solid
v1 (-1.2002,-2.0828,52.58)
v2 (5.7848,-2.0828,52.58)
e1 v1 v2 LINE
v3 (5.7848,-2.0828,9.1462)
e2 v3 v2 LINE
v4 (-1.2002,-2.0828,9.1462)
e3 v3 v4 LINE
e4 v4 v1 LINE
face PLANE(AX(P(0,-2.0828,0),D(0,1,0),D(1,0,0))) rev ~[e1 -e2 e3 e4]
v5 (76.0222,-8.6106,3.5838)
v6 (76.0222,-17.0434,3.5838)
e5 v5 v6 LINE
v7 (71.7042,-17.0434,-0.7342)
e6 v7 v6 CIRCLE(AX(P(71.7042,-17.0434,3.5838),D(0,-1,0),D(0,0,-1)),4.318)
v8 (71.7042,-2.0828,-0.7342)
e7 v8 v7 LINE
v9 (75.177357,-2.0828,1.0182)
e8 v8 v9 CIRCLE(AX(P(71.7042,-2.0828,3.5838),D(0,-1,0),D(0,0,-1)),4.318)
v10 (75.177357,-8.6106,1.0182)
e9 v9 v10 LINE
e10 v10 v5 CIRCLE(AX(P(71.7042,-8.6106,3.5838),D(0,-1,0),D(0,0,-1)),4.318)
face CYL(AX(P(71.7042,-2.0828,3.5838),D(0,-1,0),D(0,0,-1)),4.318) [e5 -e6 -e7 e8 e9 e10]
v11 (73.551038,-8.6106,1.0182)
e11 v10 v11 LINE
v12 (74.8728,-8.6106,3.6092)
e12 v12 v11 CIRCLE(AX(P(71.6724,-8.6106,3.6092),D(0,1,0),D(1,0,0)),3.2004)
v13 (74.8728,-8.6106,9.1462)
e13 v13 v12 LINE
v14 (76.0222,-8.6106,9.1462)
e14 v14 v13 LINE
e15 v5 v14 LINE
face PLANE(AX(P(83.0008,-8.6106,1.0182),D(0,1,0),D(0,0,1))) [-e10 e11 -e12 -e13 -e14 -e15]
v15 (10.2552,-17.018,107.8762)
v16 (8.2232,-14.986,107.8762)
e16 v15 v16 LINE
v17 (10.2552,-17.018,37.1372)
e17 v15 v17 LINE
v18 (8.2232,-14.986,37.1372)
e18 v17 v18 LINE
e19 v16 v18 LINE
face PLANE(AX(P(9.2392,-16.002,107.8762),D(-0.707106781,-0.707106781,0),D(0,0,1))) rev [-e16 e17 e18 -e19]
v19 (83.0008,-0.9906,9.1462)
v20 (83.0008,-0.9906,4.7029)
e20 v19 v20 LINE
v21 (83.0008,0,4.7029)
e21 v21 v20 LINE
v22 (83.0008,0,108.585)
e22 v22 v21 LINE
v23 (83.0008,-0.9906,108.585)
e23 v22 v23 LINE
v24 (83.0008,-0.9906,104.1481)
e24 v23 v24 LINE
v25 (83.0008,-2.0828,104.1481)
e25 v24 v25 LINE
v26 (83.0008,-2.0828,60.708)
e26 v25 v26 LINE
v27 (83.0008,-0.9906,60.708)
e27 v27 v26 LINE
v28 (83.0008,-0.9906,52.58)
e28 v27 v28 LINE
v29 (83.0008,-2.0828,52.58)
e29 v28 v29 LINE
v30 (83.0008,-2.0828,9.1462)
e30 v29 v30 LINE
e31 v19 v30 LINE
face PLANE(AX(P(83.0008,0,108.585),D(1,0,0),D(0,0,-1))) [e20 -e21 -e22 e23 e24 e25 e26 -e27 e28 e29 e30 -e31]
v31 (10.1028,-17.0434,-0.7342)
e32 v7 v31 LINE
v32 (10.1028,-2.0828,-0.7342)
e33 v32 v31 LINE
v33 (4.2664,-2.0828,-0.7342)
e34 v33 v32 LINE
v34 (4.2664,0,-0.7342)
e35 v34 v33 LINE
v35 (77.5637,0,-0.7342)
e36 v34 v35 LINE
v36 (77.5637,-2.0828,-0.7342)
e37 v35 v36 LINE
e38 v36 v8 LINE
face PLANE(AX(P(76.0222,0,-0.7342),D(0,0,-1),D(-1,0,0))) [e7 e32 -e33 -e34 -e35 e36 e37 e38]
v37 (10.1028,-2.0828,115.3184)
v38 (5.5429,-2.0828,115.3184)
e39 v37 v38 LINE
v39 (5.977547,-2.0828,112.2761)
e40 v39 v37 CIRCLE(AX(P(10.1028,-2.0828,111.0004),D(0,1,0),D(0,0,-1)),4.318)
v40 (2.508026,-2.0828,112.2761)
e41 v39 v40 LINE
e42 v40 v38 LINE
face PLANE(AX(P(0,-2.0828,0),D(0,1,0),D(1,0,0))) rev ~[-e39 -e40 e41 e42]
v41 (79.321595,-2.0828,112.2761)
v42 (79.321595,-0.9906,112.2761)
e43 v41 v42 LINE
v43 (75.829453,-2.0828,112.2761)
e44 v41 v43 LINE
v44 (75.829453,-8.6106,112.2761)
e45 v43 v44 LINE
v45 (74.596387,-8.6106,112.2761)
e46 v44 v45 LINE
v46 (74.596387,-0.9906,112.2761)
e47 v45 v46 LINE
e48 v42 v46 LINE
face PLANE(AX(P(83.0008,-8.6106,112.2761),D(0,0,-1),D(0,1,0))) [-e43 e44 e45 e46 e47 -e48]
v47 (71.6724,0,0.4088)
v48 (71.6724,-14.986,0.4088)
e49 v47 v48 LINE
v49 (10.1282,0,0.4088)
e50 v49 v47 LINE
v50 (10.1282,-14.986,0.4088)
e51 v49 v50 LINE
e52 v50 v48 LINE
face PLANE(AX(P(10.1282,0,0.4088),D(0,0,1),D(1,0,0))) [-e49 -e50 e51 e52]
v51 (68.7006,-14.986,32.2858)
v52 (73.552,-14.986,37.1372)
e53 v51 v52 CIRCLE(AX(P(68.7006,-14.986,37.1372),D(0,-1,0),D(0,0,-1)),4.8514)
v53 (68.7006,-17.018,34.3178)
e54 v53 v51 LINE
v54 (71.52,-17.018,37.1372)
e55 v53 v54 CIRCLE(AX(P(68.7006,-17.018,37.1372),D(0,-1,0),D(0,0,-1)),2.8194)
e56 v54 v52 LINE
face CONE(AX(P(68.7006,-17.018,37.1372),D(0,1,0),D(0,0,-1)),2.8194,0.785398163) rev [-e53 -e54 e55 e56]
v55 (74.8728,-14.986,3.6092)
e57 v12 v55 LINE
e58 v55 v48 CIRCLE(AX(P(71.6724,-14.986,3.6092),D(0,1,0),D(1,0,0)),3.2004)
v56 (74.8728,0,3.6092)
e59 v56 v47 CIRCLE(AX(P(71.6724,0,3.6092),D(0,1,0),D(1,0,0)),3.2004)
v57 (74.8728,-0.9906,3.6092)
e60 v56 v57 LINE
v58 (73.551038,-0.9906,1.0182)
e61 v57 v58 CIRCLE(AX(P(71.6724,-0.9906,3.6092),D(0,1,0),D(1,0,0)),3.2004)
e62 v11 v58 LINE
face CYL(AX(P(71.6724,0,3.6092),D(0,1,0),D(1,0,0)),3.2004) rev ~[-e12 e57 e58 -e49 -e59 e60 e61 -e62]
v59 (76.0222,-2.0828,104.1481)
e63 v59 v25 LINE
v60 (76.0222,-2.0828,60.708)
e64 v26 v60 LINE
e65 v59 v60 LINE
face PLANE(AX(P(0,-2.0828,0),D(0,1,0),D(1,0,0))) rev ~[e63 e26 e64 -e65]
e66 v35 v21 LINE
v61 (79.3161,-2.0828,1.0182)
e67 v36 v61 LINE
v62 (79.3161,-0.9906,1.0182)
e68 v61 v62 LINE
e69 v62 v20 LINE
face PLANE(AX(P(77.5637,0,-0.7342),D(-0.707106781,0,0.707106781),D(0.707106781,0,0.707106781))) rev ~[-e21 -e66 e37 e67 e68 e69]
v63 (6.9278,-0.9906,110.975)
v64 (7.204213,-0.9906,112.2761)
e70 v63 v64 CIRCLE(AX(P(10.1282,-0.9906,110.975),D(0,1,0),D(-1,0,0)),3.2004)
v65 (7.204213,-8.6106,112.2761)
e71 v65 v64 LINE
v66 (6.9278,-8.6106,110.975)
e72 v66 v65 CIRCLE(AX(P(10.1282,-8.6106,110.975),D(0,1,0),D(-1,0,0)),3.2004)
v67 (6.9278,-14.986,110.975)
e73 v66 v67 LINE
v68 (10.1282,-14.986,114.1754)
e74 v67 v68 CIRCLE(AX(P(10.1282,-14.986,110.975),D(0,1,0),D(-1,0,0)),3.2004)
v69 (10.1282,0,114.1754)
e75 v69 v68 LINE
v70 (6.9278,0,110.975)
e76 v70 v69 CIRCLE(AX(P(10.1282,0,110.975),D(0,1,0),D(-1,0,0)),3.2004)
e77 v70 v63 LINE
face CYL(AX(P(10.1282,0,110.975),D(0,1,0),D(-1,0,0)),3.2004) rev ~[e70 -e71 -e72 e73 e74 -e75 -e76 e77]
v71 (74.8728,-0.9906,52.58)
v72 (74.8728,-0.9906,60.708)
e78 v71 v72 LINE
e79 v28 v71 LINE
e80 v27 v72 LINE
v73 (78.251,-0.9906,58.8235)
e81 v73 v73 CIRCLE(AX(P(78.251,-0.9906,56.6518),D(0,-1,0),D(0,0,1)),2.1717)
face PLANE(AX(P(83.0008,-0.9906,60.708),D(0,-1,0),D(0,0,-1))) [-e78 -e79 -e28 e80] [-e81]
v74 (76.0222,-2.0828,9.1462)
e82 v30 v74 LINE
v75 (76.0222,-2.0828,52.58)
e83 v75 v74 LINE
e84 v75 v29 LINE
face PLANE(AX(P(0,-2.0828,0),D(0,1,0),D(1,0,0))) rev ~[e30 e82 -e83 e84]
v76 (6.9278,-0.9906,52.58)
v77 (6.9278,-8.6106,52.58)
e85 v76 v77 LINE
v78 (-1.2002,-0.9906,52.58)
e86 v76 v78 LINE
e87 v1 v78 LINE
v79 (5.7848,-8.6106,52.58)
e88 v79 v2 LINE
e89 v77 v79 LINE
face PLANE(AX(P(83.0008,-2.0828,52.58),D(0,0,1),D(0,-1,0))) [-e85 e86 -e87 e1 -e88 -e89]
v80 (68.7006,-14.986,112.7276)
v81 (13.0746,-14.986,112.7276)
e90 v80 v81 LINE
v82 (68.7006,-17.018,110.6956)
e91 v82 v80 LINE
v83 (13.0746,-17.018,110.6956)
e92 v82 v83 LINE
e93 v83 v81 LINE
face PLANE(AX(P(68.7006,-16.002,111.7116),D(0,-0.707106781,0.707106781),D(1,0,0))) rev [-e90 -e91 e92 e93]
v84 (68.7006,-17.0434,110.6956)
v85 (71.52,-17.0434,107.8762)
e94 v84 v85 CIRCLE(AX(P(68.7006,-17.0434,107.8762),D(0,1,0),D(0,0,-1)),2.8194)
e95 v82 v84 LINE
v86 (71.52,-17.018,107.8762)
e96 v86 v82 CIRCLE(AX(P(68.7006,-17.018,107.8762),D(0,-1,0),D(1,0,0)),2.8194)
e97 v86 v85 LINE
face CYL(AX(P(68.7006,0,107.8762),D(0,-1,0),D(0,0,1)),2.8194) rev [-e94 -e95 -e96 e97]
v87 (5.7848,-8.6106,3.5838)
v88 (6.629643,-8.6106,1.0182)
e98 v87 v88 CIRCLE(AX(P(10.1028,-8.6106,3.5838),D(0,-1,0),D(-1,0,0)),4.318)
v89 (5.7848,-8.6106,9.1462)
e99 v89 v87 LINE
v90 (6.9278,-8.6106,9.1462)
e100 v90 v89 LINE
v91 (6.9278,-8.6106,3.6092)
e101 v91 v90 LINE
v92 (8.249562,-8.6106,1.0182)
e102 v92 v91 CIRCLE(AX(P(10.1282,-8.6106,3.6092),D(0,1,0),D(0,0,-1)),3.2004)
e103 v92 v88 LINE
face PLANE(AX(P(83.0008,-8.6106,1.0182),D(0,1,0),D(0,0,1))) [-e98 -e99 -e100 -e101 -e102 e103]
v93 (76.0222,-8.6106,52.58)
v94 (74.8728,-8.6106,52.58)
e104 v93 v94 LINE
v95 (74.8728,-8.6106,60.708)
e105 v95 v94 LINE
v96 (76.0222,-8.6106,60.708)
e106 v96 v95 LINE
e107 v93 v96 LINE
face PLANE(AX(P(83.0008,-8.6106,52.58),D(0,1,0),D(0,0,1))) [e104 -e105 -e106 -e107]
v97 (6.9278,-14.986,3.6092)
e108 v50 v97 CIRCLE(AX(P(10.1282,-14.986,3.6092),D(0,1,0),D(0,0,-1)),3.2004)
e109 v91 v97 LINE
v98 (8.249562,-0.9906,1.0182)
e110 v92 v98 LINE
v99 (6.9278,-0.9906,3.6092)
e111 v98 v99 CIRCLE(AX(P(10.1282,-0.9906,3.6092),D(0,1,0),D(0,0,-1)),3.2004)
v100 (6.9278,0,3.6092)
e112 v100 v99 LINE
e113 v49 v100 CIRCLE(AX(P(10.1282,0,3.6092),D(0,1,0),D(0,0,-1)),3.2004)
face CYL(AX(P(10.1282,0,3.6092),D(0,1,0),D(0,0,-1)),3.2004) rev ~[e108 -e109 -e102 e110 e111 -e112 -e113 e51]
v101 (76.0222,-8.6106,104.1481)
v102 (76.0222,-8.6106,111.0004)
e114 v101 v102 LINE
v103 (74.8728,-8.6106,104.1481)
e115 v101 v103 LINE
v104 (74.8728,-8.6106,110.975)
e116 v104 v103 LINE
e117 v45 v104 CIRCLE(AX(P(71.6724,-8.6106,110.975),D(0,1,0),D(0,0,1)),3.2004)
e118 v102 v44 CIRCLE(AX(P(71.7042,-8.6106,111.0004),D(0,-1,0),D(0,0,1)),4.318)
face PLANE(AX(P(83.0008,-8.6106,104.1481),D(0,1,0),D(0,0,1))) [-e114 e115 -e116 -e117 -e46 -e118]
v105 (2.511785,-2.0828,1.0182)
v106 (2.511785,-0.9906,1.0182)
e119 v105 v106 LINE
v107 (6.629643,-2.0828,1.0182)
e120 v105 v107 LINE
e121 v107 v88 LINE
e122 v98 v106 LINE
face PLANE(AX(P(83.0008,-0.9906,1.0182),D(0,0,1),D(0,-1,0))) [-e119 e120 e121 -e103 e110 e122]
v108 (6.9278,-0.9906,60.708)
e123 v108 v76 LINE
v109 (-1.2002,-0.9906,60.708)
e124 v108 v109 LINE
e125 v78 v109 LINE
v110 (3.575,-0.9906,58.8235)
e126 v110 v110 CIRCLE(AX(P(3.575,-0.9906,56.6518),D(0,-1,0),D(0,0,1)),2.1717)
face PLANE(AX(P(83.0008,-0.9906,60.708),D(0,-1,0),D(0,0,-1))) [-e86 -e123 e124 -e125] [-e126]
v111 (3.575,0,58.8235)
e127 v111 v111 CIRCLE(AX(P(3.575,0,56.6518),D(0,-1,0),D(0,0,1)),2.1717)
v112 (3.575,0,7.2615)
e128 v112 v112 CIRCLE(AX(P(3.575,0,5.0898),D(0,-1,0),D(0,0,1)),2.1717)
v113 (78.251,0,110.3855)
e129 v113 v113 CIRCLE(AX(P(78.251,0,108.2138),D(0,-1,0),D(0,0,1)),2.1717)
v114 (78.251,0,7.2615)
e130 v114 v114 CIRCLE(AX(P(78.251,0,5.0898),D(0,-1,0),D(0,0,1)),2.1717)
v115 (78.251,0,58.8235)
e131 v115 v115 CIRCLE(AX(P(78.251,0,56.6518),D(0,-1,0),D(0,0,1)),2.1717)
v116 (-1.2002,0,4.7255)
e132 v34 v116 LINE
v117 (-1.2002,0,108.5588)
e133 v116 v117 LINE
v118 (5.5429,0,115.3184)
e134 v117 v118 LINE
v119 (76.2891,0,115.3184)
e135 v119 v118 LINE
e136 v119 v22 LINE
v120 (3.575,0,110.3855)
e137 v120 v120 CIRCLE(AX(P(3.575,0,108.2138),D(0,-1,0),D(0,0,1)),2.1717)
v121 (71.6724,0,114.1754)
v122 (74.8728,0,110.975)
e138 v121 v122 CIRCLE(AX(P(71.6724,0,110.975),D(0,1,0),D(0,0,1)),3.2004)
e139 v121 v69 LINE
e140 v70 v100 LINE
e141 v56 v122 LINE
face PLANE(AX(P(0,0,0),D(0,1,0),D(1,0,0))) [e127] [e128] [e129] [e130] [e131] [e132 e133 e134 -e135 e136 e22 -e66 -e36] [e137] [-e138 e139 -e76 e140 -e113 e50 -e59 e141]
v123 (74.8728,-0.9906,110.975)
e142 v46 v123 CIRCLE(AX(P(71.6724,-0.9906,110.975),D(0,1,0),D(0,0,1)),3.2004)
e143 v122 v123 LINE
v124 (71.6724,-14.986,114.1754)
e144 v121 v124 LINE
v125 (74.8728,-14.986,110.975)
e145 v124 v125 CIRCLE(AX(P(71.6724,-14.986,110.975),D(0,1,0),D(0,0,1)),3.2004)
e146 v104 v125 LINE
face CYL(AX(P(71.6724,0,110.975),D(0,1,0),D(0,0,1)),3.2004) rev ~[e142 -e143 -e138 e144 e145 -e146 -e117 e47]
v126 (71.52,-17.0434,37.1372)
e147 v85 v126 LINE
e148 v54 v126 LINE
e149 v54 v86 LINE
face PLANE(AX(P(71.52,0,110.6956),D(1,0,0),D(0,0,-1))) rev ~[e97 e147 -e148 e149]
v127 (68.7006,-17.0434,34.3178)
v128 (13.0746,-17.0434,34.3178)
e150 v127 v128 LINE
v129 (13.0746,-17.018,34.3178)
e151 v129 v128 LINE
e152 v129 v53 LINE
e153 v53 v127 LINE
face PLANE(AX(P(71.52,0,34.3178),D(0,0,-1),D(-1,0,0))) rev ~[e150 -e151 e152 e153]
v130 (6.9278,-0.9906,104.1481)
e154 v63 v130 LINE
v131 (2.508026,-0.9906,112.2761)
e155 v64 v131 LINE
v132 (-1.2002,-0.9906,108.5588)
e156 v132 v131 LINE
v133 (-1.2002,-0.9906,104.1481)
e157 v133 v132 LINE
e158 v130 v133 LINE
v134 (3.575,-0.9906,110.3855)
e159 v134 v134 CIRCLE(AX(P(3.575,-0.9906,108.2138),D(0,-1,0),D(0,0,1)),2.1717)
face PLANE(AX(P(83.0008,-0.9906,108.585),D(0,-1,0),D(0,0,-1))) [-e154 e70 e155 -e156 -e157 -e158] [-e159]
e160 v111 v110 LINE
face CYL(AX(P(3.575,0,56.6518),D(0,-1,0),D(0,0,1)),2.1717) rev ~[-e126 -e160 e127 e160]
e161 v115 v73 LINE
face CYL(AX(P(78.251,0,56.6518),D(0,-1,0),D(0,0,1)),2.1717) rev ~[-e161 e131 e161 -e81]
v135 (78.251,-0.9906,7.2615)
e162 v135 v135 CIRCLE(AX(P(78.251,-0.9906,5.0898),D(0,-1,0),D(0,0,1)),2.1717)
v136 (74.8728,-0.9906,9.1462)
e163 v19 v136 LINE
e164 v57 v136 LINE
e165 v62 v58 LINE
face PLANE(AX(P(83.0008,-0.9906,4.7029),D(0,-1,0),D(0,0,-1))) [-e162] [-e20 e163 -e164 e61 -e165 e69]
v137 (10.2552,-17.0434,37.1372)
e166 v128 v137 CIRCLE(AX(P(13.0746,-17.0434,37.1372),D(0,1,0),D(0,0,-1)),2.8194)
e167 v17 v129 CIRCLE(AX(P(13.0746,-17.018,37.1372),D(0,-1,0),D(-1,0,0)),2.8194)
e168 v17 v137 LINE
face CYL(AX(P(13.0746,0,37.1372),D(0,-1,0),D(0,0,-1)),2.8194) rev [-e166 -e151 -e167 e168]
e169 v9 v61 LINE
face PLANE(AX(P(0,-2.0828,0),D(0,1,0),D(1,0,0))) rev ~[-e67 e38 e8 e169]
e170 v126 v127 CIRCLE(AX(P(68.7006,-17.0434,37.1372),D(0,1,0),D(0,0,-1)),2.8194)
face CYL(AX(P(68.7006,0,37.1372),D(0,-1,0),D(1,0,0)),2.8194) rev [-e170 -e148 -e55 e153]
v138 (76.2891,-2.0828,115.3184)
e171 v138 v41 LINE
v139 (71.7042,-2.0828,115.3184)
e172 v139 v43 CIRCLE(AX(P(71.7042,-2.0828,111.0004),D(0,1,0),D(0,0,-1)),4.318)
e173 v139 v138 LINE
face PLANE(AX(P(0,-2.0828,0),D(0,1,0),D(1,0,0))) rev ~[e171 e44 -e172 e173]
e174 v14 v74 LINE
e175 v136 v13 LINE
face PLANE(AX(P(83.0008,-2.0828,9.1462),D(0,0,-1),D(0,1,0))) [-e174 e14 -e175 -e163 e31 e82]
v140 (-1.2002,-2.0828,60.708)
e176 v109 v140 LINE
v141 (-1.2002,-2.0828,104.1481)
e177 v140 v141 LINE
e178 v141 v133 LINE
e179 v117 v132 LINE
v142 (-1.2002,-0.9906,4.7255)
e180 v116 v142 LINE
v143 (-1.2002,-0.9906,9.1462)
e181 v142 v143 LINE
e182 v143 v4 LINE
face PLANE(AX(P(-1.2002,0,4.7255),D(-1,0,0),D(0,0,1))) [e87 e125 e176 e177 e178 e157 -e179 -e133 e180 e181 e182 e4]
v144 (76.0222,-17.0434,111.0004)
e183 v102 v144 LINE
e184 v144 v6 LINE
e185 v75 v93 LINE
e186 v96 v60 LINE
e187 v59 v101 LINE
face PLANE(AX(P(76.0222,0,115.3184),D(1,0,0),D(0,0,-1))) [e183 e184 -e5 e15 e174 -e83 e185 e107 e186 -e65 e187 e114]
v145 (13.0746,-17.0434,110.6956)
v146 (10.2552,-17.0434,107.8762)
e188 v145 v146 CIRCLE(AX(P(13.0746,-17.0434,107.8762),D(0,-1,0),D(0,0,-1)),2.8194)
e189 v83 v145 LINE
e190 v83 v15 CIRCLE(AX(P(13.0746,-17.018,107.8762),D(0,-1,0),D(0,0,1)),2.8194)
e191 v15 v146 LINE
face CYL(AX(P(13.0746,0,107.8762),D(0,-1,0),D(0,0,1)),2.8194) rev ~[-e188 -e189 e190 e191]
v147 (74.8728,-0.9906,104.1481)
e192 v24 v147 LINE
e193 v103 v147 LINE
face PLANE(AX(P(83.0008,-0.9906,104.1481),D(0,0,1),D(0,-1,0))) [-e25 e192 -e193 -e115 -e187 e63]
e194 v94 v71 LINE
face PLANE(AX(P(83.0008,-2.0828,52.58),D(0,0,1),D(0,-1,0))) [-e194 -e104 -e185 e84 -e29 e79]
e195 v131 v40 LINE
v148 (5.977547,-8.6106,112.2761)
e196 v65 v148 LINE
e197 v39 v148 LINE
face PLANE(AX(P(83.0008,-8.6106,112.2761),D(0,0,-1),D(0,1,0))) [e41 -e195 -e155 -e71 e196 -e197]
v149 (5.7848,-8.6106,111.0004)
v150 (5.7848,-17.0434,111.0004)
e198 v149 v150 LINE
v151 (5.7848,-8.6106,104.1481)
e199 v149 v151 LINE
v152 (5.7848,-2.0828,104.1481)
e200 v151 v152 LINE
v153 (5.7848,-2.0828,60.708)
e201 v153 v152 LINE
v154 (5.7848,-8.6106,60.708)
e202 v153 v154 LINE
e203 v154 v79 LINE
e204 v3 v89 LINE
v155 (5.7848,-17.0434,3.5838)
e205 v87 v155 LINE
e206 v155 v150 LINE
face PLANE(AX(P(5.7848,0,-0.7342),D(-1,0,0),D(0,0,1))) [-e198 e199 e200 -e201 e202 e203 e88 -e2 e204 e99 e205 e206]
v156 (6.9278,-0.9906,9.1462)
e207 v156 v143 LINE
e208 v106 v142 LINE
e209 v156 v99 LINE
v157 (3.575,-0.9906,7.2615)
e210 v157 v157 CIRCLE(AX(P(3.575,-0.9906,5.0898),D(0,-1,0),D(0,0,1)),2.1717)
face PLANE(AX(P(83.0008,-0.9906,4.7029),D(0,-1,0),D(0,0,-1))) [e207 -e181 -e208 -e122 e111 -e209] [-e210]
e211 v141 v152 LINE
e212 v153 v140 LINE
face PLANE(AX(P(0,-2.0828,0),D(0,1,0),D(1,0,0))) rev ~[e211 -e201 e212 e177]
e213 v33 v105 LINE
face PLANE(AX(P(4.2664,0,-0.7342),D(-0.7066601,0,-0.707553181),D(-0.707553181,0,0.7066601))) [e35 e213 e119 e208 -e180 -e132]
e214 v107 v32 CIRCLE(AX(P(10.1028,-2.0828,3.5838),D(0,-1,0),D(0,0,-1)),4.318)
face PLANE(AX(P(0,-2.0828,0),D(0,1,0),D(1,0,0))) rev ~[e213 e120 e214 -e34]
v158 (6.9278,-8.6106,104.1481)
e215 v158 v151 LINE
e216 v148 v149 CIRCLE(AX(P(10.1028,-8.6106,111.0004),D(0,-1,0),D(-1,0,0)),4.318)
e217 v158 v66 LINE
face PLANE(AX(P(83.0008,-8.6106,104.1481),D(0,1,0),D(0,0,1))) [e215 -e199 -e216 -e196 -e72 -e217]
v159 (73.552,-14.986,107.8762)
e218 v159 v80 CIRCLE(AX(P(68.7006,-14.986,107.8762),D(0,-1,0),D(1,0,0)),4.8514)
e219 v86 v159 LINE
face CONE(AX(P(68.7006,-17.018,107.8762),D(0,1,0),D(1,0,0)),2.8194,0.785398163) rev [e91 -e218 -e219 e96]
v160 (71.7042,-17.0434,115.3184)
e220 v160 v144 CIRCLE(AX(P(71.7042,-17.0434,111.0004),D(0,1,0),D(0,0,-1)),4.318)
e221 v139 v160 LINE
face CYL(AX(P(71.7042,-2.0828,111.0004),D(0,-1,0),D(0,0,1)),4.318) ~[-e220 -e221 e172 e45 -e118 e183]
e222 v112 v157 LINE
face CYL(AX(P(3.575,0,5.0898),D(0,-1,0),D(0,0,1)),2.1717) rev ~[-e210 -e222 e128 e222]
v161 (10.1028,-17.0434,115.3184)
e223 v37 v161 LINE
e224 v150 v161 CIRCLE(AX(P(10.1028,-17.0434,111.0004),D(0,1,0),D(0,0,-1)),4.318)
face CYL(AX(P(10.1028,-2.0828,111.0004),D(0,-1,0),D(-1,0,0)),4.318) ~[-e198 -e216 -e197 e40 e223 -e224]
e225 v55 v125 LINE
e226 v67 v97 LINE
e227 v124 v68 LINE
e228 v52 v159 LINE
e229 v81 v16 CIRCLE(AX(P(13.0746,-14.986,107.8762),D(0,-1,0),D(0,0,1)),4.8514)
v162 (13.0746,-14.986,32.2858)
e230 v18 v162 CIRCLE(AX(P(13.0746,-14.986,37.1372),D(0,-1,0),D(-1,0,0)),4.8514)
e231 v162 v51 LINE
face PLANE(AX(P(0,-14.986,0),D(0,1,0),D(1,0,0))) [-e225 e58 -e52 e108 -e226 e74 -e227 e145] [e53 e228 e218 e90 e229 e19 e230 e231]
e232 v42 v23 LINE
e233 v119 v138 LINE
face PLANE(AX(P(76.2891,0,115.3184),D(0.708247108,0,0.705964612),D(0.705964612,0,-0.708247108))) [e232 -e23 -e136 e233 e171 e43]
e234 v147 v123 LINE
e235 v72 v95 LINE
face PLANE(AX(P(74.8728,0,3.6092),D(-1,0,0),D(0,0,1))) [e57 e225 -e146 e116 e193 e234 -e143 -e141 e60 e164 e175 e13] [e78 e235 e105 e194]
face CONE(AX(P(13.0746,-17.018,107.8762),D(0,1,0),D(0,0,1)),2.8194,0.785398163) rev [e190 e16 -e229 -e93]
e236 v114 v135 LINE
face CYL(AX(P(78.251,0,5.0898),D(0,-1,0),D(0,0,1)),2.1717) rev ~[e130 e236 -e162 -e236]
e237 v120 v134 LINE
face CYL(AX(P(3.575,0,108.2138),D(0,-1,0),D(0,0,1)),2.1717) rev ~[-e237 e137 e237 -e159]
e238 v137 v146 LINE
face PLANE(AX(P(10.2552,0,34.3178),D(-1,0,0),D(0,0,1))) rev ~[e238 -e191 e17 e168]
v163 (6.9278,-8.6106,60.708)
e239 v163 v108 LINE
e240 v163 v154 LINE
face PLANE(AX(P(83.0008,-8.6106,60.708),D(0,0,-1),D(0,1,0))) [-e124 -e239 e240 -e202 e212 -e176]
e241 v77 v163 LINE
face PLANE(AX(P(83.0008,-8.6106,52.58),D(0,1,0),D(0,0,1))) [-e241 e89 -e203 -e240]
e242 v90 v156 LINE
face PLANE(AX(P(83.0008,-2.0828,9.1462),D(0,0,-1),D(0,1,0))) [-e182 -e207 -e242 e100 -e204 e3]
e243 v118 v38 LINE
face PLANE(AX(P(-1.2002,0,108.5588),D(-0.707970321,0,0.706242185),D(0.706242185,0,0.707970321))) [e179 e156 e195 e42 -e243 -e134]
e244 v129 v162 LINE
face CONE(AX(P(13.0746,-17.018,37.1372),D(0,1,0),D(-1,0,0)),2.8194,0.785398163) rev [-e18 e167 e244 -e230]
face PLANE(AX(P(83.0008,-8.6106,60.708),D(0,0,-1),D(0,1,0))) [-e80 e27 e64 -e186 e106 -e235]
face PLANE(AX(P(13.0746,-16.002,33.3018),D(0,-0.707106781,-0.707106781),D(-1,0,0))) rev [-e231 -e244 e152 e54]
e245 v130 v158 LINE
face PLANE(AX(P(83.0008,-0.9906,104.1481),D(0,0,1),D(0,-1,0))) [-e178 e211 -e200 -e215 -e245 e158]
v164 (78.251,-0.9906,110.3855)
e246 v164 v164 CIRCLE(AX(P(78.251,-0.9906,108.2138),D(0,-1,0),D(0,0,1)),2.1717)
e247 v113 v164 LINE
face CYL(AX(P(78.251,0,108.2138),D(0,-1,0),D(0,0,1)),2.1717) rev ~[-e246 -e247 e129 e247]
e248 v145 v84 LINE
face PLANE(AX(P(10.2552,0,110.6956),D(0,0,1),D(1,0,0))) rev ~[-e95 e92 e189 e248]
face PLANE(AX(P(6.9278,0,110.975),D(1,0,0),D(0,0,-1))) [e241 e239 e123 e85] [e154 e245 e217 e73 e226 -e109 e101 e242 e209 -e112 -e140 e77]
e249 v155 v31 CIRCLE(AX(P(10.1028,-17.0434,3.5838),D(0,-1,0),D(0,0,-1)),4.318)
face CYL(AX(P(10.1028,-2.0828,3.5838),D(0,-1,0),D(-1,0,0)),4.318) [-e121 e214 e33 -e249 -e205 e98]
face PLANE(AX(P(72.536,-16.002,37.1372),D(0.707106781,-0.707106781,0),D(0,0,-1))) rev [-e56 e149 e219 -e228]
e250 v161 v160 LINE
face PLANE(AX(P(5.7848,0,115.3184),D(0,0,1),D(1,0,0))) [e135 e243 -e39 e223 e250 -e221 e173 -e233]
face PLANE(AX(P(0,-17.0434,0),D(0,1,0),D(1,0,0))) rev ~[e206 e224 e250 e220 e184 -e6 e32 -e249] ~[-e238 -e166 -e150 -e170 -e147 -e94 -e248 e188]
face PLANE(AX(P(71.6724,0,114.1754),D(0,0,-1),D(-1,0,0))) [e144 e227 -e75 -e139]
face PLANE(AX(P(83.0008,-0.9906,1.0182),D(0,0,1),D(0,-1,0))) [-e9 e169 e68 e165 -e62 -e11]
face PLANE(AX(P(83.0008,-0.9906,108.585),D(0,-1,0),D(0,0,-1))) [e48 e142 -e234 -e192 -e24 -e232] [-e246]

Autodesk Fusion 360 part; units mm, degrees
sketch "Front" plane through (0, 0, 0) normal (0, 1, 0) x (1, 0, 0) in component "2004699A"
  line L0 (-34.4613, 0.7342) -> (100.7673, 0.7342) construction
  line L1 (-34.854, -115.3184) -> (120.0108, -115.3184) construction
  line L2 (39.1093, -14.9122) -> (120.6654, -14.9122) construction
  line L3 (3.575, 24.5274) -> (3.575, -141.9882) construction
  line L4 (78.251, 23.8729) -> (78.251, -119.9956) construction
  line L5 (-16.7886, -108.2138) -> (88.0691, -108.2138) construction
  line L6 (-18.2286, -5.0898) -> (85.3201, -5.0898) construction
  line L7 (-8.6723, -56.6518) -> (96.0546, -56.6518) construction
  line L8 (-24.3813, -113.9722) -> (90.4255, -113.9722) construction
  line L9 (-27.0881, -0.4088) -> (83.5136, -0.4088) construction
  line L10 (10.2552, -130.527) -> (10.2552, 10.1996) construction
  line L11 (71.52, -130.1852) -> (71.52, 12.6775) construction
  line L12 (5.7848, -130.0998) -> (5.7848, 6.3546) construction
  line L13 (83.0008, -137.1267) -> (83.0008, 10.6162) construction
  line L14 (-1.2002, -137.339) -> (-1.2002, 17.644) construction
  line L15 (110.5413, -110.6956) -> (5.7848, -110.6956) construction
  line L16 (110.1974, -34.3178) -> (-2.9547, -34.3178) construction
  line L17 (102.8889, -60.7158) -> (-8.8875, -60.7158) construction
  line L18 (102.459, -52.5878) -> (-11.4669, -52.5878) construction
  line L19 (40.913, -17.1802) -> (40.913, 17.1835) construction
  line L20 (69.6478, 8.6501) -> (89.4046, -11.1067) construction
  line L21 (-5.4342, -8.9542) -> (10.2552, 6.7154) construction
  line L22 (-6.1303, -103.6453) -> (12.6902, -122.4658) construction
  line L23 (73.7302, -117.8806) -> (90.3753, -101.2137) construction
  line L24 (-2.868, -104.1498) -> (87.443, -104.1498) construction
  line L25 (-3.4391, -112.2778) -> (87.0011, -112.2778) construction
  line L26 (-3.1536, -9.1538) -> (86.0732, -9.1538) construction
  line L27 (-3.3677, -1.0258) -> (85.288, -1.0258) construction
  line L28 (10.2552, -110.6956) -> (71.52, -110.6956)
  line L29 (71.52, -110.6956) -> (71.52, -34.3178)
  line L30 (71.52, -34.3178) -> (10.2552, -34.3178)
  line L31 (10.2552, -34.3178) -> (10.2552, -110.6956)
  line L32 (-1.2002, -115.3184) -> (83.0008, -115.3184)
  line L33 (83.0008, -115.3184) -> (83.0008, 0.7342)
  line L34 (83.0008, 0.7342) -> (-1.2002, 0.7342)
  line L35 (-1.2002, 0.7342) -> (-1.2002, -115.3184)
  line L36 (76.0158, -119.9569) -> (76.0158, 9.6762) construction
  line L37 (5.7848, -115.3184) -> (76.0222, -115.3184) construction
  line L38 (76.0222, -115.3184) -> (76.0222, 0.7342) construction
  line L39 (76.0222, 0.7342) -> (5.7848, 0.7342) construction
  line L40 (5.7848, 0.7342) -> (5.7848, -115.3184) construction
  line L41 (76.0222, 0.7342) -> (5.7848, 0.7342)
  line L42 (5.7848, 0.7342) -> (5.7848, -115.3184)
  line L43 (5.7848, -115.3184) -> (76.0222, -115.3184)
  line L44 (76.0222, -115.3184) -> (76.0222, 0.7342)
  line L45 (-1.2002, -108.5588) -> (5.5429, -115.3184)
  line L46 (76.2891, -115.3184) -> (83.0008, -108.585)
  line L47 (77.5637, 0.7342) -> (83.0008, -4.7029)
  line L48 (4.2664, 0.7342) -> (-1.2002, -4.7255)
  point P0 (3.575, -108.2138)
  point P1 (78.251, -108.2138)
  point P2 (78.251, -56.6518)
  point P3 (78.251, -5.0898)
  point P4 (3.575, -5.0898)
  point P5 (3.575, -56.6518)
  dimension "d1" = 1.143
  dimension "d2" = 116.0526
  dimension "d3" = 113.5634
  dimension "d4" = 103.124
  dimension "d5" = 51.562
  dimension "d6" = 74.676
  dimension "d7" = 2.2098
  dimension "d8" = 4.4704
  dimension "d9" = 61.2648
  dimension "d10" = 84.201
  dimension "d11" = 6.985
  dimension "d12" = 76.3778
  dimension "d13" = 4.6228
  dimension "d14" = 100.4062
  dimension "d15" = 37.338
  dimension "d16" = 8.128
  dimension "d17" = 4.064
  dimension "d18" = 3.6322
  dimension "d19" = 3.6322
  dimension "d20" = 3.6322
  dimension "d21" = 3.6322
  dimension "d22" = 4.064
  dimension "d23" = 8.128
  dimension "d25" = 4.064
  dimension "d26" = 8.128
  dimension "d27" = 70.231
extrude "Extrude1" add sketch "Front" against normal blind 17.0434 contours L32 L34 L41 L42 L43 L44 in component "2004699A"
extrude "Extrude2" add sketch "Front" against normal blind 2.0828 contours L32 L34 L35 L42 L45 L48 | L32 L33 L34 L44 L46 L47 in component "2004699A"
fillet "Fillet1" radius 4.318 4 edges at (5.7848, -9.5631, -0.7342) (76.0222, -9.5631, -0.7342) (76.0222, -9.5631, 115.3184) (5.7848, -9.5631, 115.3184) in component "2004699A"
fillet "Fillet2" radius 2.8194 4 edges at (71.52, -8.5217, 110.6956) (10.2552, -8.5217, 110.6956) (71.52, -8.5217, 34.3178) (10.2552, -8.5217, 34.3178) in component "2004699A"
hole "Hole1" at (78.251, 0, 108.2138) at (78.251, 0, 56.6518) at (78.251, 0, 5.0898) at (3.575, 0, 5.0898) at (3.575, 0, 56.6518) at (3.575, 0, 108.2138) direction (0, -1, 0) diameter 4.3434 end through all in component "2004699A"
sketch "Sketch3" plane through (0, 0, 0) normal (0, 1, 0) x (1, 0, 0) in component "2004699A"
  line L0 (88.5571, -114.1754) -> (-29.017, -114.1754) construction
  line L1 (6.9278, -119.135) -> (6.9278, -3.6092) construction
  line L2 (74.8728, -110.975) -> (74.8728, 6.1599) construction
  line L3 (95.5329, -0.4088) -> (-26.782, -0.4088) construction
  line L4 (-34.4613, 0.7342) -> (100.7673, 0.7342) construction
  line L5 (5.7848, -130.0998) -> (5.7848, 6.3546) construction
  line L6 (-34.854, -115.3184) -> (120.0108, -115.3184) construction
  line L7 (76.0158, -119.9569) -> (76.0158, 9.6762) construction
  line L8 (71.6724, -114.1754) -> (10.1282, -114.1754)
  line L9 (6.9278, -110.975) -> (6.9278, -0.4088)
  line L10 (10.1282, -0.4088) -> (71.6724, -0.4088)
  line L11 (74.8728, -3.6092) -> (74.8728, -114.1754)
  arc A0 (74.8728, -3.6092) -> (71.6724, -0.4088) centre (71.6724, -3.6092) ccw
  arc A1 (10.1282, -0.4088) -> (6.9278, -3.6092) centre (10.1282, -3.6092) ccw
  arc A2 (71.6724, -114.1754) -> (74.8728, -110.975) centre (71.6724, -110.975) ccw
  arc A3 (6.9278, -110.975) -> (10.1282, -114.1754) centre (10.1282, -110.975) ccw
  dimension "d37" = 1.143
  dimension "d38" = 1.143
  dimension "d39" = 1.143
  dimension "d40" = 1.143
  dimension "d41" = 3.2004
  dimension "d42" = 3.2004
  dimension "d43" = 3.2004
  dimension "d44" = 3.2004
extrude "Extrude3" cut sketch "Sketch3" against normal blind 14.986 in component "2004699A"
chamfer "Chamfer1" distance 2.032 angle 45 8 edges at (40.8876, -14.986, 34.3178) (11.081, -14.986, 35.1436) (10.2552, -14.986, 72.5067) (11.081, -14.986, 109.8698) (40.8876, -14.986, 110.6956) (70.6942, -14.986, 109.8698) (71.52, -14.986, 72.5067) (70.6942, -14.986, 35.1436) in component "2004699A"
sketch "Sketch4" plane through (83.0008, 0, 0) normal (1, 0, 0) x (0, 1, 0) in component "2004699A"
  line L0 (0, 4.7029) -> (0, 108.585)
  line L1 (0, 108.585) -> (-2.0828, 108.585)
  line L2 (-2.0828, 108.585) -> (-2.0828, 4.7029)
  line L3 (-2.0828, 4.7029) -> (0, 4.7029)
  line L4 (-0.9906, 121.8672) -> (-0.9906, -5.2486) construction
  line L5 (0, 108.2121) -> (-3.3976, 108.2121) construction
  line L6 (0, 56.644) -> (-3.817, 56.644) construction
  line L7 (0, 0) -> (-1.1062, 0) construction
  line L8 (1.8872, 112.2761) -> (-9.9271, 112.2761) construction
  line L9 (1.8112, 104.1481) -> (-10.4595, 104.1481) construction
  line L10 (1.71, 60.708) -> (-9.8241, 60.708) construction
  line L11 (2.1656, 52.58) -> (0.9254, 52.58) construction
  line L12 (0.9254, 52.58) -> (-9.5412, 52.58) construction
  line L13 (0, 5.0822) -> (-6.1548, 5.0822) construction
  line L14 (2.1892, 9.1462) -> (-10.0058, 9.1462) construction
  line L15 (2.6197, 1.0182) -> (-10.581, 1.0182) construction
  line L16 (-8.6106, 122.6091) -> (-8.6106, -10.4565) construction
  line L17 (-8.6106, 60.708) -> (-0.9906, 60.708)
  line L18 (-0.9906, 60.708) -> (-0.9906, 52.58)
  line L19 (-0.9906, 52.58) -> (-8.6106, 52.58)
  line L20 (-8.6106, 52.58) -> (-8.6106, 60.708)
  line L21 (-8.6106, 9.1462) -> (-0.9906, 9.1462)
  line L22 (-0.9906, 9.1462) -> (-0.9906, 1.0182)
  line L23 (-0.9906, 1.0182) -> (-8.6106, 1.0182)
  line L24 (-8.6106, 1.0182) -> (-8.6106, 9.1462)
  line L25 (-8.6106, 112.2761) -> (-0.9906, 112.2761)
  line L26 (-0.9906, 112.2761) -> (-0.9906, 104.1481)
  line L27 (-0.9906, 104.1481) -> (-8.6106, 104.1481)
  line L28 (-8.6106, 104.1481) -> (-8.6106, 112.2761)
  point P0 (0, 119.9956)
  dimension "d48" = 0.9906
  dimension "d49" = 4.064
  dimension "d50" = 8.128
  dimension "d51" = 4.064
  dimension "d52" = 8.128
  dimension "d54" = 4.064
  dimension "d55" = 8.128
  dimension "d56" = 7.62
extrude "Extrude4" cut sketch "Sketch4" against normal through all contours L2 L3 L21 L22 L23 L24 | L2 L3 L21 L22 | L1 L2 L26 L27 | L1 L2 L25 L26 L27 L28 | L2 L17 L19 L20 | L2 L17 L18 L19 in component "2004699A"
component "2004699A" placed x (1, 0, 0) y (0, 1, 0) z (0, 0, 1) at (0, 0, 0)
equation "d41 = 0.171 in - 0.045 in"
equation "d42 = 0.171 in - 0.045 in"
equation "d43 = 0.171 in - 0.045 in"
equation "d44 = 0.171 in - 0.045 in"
